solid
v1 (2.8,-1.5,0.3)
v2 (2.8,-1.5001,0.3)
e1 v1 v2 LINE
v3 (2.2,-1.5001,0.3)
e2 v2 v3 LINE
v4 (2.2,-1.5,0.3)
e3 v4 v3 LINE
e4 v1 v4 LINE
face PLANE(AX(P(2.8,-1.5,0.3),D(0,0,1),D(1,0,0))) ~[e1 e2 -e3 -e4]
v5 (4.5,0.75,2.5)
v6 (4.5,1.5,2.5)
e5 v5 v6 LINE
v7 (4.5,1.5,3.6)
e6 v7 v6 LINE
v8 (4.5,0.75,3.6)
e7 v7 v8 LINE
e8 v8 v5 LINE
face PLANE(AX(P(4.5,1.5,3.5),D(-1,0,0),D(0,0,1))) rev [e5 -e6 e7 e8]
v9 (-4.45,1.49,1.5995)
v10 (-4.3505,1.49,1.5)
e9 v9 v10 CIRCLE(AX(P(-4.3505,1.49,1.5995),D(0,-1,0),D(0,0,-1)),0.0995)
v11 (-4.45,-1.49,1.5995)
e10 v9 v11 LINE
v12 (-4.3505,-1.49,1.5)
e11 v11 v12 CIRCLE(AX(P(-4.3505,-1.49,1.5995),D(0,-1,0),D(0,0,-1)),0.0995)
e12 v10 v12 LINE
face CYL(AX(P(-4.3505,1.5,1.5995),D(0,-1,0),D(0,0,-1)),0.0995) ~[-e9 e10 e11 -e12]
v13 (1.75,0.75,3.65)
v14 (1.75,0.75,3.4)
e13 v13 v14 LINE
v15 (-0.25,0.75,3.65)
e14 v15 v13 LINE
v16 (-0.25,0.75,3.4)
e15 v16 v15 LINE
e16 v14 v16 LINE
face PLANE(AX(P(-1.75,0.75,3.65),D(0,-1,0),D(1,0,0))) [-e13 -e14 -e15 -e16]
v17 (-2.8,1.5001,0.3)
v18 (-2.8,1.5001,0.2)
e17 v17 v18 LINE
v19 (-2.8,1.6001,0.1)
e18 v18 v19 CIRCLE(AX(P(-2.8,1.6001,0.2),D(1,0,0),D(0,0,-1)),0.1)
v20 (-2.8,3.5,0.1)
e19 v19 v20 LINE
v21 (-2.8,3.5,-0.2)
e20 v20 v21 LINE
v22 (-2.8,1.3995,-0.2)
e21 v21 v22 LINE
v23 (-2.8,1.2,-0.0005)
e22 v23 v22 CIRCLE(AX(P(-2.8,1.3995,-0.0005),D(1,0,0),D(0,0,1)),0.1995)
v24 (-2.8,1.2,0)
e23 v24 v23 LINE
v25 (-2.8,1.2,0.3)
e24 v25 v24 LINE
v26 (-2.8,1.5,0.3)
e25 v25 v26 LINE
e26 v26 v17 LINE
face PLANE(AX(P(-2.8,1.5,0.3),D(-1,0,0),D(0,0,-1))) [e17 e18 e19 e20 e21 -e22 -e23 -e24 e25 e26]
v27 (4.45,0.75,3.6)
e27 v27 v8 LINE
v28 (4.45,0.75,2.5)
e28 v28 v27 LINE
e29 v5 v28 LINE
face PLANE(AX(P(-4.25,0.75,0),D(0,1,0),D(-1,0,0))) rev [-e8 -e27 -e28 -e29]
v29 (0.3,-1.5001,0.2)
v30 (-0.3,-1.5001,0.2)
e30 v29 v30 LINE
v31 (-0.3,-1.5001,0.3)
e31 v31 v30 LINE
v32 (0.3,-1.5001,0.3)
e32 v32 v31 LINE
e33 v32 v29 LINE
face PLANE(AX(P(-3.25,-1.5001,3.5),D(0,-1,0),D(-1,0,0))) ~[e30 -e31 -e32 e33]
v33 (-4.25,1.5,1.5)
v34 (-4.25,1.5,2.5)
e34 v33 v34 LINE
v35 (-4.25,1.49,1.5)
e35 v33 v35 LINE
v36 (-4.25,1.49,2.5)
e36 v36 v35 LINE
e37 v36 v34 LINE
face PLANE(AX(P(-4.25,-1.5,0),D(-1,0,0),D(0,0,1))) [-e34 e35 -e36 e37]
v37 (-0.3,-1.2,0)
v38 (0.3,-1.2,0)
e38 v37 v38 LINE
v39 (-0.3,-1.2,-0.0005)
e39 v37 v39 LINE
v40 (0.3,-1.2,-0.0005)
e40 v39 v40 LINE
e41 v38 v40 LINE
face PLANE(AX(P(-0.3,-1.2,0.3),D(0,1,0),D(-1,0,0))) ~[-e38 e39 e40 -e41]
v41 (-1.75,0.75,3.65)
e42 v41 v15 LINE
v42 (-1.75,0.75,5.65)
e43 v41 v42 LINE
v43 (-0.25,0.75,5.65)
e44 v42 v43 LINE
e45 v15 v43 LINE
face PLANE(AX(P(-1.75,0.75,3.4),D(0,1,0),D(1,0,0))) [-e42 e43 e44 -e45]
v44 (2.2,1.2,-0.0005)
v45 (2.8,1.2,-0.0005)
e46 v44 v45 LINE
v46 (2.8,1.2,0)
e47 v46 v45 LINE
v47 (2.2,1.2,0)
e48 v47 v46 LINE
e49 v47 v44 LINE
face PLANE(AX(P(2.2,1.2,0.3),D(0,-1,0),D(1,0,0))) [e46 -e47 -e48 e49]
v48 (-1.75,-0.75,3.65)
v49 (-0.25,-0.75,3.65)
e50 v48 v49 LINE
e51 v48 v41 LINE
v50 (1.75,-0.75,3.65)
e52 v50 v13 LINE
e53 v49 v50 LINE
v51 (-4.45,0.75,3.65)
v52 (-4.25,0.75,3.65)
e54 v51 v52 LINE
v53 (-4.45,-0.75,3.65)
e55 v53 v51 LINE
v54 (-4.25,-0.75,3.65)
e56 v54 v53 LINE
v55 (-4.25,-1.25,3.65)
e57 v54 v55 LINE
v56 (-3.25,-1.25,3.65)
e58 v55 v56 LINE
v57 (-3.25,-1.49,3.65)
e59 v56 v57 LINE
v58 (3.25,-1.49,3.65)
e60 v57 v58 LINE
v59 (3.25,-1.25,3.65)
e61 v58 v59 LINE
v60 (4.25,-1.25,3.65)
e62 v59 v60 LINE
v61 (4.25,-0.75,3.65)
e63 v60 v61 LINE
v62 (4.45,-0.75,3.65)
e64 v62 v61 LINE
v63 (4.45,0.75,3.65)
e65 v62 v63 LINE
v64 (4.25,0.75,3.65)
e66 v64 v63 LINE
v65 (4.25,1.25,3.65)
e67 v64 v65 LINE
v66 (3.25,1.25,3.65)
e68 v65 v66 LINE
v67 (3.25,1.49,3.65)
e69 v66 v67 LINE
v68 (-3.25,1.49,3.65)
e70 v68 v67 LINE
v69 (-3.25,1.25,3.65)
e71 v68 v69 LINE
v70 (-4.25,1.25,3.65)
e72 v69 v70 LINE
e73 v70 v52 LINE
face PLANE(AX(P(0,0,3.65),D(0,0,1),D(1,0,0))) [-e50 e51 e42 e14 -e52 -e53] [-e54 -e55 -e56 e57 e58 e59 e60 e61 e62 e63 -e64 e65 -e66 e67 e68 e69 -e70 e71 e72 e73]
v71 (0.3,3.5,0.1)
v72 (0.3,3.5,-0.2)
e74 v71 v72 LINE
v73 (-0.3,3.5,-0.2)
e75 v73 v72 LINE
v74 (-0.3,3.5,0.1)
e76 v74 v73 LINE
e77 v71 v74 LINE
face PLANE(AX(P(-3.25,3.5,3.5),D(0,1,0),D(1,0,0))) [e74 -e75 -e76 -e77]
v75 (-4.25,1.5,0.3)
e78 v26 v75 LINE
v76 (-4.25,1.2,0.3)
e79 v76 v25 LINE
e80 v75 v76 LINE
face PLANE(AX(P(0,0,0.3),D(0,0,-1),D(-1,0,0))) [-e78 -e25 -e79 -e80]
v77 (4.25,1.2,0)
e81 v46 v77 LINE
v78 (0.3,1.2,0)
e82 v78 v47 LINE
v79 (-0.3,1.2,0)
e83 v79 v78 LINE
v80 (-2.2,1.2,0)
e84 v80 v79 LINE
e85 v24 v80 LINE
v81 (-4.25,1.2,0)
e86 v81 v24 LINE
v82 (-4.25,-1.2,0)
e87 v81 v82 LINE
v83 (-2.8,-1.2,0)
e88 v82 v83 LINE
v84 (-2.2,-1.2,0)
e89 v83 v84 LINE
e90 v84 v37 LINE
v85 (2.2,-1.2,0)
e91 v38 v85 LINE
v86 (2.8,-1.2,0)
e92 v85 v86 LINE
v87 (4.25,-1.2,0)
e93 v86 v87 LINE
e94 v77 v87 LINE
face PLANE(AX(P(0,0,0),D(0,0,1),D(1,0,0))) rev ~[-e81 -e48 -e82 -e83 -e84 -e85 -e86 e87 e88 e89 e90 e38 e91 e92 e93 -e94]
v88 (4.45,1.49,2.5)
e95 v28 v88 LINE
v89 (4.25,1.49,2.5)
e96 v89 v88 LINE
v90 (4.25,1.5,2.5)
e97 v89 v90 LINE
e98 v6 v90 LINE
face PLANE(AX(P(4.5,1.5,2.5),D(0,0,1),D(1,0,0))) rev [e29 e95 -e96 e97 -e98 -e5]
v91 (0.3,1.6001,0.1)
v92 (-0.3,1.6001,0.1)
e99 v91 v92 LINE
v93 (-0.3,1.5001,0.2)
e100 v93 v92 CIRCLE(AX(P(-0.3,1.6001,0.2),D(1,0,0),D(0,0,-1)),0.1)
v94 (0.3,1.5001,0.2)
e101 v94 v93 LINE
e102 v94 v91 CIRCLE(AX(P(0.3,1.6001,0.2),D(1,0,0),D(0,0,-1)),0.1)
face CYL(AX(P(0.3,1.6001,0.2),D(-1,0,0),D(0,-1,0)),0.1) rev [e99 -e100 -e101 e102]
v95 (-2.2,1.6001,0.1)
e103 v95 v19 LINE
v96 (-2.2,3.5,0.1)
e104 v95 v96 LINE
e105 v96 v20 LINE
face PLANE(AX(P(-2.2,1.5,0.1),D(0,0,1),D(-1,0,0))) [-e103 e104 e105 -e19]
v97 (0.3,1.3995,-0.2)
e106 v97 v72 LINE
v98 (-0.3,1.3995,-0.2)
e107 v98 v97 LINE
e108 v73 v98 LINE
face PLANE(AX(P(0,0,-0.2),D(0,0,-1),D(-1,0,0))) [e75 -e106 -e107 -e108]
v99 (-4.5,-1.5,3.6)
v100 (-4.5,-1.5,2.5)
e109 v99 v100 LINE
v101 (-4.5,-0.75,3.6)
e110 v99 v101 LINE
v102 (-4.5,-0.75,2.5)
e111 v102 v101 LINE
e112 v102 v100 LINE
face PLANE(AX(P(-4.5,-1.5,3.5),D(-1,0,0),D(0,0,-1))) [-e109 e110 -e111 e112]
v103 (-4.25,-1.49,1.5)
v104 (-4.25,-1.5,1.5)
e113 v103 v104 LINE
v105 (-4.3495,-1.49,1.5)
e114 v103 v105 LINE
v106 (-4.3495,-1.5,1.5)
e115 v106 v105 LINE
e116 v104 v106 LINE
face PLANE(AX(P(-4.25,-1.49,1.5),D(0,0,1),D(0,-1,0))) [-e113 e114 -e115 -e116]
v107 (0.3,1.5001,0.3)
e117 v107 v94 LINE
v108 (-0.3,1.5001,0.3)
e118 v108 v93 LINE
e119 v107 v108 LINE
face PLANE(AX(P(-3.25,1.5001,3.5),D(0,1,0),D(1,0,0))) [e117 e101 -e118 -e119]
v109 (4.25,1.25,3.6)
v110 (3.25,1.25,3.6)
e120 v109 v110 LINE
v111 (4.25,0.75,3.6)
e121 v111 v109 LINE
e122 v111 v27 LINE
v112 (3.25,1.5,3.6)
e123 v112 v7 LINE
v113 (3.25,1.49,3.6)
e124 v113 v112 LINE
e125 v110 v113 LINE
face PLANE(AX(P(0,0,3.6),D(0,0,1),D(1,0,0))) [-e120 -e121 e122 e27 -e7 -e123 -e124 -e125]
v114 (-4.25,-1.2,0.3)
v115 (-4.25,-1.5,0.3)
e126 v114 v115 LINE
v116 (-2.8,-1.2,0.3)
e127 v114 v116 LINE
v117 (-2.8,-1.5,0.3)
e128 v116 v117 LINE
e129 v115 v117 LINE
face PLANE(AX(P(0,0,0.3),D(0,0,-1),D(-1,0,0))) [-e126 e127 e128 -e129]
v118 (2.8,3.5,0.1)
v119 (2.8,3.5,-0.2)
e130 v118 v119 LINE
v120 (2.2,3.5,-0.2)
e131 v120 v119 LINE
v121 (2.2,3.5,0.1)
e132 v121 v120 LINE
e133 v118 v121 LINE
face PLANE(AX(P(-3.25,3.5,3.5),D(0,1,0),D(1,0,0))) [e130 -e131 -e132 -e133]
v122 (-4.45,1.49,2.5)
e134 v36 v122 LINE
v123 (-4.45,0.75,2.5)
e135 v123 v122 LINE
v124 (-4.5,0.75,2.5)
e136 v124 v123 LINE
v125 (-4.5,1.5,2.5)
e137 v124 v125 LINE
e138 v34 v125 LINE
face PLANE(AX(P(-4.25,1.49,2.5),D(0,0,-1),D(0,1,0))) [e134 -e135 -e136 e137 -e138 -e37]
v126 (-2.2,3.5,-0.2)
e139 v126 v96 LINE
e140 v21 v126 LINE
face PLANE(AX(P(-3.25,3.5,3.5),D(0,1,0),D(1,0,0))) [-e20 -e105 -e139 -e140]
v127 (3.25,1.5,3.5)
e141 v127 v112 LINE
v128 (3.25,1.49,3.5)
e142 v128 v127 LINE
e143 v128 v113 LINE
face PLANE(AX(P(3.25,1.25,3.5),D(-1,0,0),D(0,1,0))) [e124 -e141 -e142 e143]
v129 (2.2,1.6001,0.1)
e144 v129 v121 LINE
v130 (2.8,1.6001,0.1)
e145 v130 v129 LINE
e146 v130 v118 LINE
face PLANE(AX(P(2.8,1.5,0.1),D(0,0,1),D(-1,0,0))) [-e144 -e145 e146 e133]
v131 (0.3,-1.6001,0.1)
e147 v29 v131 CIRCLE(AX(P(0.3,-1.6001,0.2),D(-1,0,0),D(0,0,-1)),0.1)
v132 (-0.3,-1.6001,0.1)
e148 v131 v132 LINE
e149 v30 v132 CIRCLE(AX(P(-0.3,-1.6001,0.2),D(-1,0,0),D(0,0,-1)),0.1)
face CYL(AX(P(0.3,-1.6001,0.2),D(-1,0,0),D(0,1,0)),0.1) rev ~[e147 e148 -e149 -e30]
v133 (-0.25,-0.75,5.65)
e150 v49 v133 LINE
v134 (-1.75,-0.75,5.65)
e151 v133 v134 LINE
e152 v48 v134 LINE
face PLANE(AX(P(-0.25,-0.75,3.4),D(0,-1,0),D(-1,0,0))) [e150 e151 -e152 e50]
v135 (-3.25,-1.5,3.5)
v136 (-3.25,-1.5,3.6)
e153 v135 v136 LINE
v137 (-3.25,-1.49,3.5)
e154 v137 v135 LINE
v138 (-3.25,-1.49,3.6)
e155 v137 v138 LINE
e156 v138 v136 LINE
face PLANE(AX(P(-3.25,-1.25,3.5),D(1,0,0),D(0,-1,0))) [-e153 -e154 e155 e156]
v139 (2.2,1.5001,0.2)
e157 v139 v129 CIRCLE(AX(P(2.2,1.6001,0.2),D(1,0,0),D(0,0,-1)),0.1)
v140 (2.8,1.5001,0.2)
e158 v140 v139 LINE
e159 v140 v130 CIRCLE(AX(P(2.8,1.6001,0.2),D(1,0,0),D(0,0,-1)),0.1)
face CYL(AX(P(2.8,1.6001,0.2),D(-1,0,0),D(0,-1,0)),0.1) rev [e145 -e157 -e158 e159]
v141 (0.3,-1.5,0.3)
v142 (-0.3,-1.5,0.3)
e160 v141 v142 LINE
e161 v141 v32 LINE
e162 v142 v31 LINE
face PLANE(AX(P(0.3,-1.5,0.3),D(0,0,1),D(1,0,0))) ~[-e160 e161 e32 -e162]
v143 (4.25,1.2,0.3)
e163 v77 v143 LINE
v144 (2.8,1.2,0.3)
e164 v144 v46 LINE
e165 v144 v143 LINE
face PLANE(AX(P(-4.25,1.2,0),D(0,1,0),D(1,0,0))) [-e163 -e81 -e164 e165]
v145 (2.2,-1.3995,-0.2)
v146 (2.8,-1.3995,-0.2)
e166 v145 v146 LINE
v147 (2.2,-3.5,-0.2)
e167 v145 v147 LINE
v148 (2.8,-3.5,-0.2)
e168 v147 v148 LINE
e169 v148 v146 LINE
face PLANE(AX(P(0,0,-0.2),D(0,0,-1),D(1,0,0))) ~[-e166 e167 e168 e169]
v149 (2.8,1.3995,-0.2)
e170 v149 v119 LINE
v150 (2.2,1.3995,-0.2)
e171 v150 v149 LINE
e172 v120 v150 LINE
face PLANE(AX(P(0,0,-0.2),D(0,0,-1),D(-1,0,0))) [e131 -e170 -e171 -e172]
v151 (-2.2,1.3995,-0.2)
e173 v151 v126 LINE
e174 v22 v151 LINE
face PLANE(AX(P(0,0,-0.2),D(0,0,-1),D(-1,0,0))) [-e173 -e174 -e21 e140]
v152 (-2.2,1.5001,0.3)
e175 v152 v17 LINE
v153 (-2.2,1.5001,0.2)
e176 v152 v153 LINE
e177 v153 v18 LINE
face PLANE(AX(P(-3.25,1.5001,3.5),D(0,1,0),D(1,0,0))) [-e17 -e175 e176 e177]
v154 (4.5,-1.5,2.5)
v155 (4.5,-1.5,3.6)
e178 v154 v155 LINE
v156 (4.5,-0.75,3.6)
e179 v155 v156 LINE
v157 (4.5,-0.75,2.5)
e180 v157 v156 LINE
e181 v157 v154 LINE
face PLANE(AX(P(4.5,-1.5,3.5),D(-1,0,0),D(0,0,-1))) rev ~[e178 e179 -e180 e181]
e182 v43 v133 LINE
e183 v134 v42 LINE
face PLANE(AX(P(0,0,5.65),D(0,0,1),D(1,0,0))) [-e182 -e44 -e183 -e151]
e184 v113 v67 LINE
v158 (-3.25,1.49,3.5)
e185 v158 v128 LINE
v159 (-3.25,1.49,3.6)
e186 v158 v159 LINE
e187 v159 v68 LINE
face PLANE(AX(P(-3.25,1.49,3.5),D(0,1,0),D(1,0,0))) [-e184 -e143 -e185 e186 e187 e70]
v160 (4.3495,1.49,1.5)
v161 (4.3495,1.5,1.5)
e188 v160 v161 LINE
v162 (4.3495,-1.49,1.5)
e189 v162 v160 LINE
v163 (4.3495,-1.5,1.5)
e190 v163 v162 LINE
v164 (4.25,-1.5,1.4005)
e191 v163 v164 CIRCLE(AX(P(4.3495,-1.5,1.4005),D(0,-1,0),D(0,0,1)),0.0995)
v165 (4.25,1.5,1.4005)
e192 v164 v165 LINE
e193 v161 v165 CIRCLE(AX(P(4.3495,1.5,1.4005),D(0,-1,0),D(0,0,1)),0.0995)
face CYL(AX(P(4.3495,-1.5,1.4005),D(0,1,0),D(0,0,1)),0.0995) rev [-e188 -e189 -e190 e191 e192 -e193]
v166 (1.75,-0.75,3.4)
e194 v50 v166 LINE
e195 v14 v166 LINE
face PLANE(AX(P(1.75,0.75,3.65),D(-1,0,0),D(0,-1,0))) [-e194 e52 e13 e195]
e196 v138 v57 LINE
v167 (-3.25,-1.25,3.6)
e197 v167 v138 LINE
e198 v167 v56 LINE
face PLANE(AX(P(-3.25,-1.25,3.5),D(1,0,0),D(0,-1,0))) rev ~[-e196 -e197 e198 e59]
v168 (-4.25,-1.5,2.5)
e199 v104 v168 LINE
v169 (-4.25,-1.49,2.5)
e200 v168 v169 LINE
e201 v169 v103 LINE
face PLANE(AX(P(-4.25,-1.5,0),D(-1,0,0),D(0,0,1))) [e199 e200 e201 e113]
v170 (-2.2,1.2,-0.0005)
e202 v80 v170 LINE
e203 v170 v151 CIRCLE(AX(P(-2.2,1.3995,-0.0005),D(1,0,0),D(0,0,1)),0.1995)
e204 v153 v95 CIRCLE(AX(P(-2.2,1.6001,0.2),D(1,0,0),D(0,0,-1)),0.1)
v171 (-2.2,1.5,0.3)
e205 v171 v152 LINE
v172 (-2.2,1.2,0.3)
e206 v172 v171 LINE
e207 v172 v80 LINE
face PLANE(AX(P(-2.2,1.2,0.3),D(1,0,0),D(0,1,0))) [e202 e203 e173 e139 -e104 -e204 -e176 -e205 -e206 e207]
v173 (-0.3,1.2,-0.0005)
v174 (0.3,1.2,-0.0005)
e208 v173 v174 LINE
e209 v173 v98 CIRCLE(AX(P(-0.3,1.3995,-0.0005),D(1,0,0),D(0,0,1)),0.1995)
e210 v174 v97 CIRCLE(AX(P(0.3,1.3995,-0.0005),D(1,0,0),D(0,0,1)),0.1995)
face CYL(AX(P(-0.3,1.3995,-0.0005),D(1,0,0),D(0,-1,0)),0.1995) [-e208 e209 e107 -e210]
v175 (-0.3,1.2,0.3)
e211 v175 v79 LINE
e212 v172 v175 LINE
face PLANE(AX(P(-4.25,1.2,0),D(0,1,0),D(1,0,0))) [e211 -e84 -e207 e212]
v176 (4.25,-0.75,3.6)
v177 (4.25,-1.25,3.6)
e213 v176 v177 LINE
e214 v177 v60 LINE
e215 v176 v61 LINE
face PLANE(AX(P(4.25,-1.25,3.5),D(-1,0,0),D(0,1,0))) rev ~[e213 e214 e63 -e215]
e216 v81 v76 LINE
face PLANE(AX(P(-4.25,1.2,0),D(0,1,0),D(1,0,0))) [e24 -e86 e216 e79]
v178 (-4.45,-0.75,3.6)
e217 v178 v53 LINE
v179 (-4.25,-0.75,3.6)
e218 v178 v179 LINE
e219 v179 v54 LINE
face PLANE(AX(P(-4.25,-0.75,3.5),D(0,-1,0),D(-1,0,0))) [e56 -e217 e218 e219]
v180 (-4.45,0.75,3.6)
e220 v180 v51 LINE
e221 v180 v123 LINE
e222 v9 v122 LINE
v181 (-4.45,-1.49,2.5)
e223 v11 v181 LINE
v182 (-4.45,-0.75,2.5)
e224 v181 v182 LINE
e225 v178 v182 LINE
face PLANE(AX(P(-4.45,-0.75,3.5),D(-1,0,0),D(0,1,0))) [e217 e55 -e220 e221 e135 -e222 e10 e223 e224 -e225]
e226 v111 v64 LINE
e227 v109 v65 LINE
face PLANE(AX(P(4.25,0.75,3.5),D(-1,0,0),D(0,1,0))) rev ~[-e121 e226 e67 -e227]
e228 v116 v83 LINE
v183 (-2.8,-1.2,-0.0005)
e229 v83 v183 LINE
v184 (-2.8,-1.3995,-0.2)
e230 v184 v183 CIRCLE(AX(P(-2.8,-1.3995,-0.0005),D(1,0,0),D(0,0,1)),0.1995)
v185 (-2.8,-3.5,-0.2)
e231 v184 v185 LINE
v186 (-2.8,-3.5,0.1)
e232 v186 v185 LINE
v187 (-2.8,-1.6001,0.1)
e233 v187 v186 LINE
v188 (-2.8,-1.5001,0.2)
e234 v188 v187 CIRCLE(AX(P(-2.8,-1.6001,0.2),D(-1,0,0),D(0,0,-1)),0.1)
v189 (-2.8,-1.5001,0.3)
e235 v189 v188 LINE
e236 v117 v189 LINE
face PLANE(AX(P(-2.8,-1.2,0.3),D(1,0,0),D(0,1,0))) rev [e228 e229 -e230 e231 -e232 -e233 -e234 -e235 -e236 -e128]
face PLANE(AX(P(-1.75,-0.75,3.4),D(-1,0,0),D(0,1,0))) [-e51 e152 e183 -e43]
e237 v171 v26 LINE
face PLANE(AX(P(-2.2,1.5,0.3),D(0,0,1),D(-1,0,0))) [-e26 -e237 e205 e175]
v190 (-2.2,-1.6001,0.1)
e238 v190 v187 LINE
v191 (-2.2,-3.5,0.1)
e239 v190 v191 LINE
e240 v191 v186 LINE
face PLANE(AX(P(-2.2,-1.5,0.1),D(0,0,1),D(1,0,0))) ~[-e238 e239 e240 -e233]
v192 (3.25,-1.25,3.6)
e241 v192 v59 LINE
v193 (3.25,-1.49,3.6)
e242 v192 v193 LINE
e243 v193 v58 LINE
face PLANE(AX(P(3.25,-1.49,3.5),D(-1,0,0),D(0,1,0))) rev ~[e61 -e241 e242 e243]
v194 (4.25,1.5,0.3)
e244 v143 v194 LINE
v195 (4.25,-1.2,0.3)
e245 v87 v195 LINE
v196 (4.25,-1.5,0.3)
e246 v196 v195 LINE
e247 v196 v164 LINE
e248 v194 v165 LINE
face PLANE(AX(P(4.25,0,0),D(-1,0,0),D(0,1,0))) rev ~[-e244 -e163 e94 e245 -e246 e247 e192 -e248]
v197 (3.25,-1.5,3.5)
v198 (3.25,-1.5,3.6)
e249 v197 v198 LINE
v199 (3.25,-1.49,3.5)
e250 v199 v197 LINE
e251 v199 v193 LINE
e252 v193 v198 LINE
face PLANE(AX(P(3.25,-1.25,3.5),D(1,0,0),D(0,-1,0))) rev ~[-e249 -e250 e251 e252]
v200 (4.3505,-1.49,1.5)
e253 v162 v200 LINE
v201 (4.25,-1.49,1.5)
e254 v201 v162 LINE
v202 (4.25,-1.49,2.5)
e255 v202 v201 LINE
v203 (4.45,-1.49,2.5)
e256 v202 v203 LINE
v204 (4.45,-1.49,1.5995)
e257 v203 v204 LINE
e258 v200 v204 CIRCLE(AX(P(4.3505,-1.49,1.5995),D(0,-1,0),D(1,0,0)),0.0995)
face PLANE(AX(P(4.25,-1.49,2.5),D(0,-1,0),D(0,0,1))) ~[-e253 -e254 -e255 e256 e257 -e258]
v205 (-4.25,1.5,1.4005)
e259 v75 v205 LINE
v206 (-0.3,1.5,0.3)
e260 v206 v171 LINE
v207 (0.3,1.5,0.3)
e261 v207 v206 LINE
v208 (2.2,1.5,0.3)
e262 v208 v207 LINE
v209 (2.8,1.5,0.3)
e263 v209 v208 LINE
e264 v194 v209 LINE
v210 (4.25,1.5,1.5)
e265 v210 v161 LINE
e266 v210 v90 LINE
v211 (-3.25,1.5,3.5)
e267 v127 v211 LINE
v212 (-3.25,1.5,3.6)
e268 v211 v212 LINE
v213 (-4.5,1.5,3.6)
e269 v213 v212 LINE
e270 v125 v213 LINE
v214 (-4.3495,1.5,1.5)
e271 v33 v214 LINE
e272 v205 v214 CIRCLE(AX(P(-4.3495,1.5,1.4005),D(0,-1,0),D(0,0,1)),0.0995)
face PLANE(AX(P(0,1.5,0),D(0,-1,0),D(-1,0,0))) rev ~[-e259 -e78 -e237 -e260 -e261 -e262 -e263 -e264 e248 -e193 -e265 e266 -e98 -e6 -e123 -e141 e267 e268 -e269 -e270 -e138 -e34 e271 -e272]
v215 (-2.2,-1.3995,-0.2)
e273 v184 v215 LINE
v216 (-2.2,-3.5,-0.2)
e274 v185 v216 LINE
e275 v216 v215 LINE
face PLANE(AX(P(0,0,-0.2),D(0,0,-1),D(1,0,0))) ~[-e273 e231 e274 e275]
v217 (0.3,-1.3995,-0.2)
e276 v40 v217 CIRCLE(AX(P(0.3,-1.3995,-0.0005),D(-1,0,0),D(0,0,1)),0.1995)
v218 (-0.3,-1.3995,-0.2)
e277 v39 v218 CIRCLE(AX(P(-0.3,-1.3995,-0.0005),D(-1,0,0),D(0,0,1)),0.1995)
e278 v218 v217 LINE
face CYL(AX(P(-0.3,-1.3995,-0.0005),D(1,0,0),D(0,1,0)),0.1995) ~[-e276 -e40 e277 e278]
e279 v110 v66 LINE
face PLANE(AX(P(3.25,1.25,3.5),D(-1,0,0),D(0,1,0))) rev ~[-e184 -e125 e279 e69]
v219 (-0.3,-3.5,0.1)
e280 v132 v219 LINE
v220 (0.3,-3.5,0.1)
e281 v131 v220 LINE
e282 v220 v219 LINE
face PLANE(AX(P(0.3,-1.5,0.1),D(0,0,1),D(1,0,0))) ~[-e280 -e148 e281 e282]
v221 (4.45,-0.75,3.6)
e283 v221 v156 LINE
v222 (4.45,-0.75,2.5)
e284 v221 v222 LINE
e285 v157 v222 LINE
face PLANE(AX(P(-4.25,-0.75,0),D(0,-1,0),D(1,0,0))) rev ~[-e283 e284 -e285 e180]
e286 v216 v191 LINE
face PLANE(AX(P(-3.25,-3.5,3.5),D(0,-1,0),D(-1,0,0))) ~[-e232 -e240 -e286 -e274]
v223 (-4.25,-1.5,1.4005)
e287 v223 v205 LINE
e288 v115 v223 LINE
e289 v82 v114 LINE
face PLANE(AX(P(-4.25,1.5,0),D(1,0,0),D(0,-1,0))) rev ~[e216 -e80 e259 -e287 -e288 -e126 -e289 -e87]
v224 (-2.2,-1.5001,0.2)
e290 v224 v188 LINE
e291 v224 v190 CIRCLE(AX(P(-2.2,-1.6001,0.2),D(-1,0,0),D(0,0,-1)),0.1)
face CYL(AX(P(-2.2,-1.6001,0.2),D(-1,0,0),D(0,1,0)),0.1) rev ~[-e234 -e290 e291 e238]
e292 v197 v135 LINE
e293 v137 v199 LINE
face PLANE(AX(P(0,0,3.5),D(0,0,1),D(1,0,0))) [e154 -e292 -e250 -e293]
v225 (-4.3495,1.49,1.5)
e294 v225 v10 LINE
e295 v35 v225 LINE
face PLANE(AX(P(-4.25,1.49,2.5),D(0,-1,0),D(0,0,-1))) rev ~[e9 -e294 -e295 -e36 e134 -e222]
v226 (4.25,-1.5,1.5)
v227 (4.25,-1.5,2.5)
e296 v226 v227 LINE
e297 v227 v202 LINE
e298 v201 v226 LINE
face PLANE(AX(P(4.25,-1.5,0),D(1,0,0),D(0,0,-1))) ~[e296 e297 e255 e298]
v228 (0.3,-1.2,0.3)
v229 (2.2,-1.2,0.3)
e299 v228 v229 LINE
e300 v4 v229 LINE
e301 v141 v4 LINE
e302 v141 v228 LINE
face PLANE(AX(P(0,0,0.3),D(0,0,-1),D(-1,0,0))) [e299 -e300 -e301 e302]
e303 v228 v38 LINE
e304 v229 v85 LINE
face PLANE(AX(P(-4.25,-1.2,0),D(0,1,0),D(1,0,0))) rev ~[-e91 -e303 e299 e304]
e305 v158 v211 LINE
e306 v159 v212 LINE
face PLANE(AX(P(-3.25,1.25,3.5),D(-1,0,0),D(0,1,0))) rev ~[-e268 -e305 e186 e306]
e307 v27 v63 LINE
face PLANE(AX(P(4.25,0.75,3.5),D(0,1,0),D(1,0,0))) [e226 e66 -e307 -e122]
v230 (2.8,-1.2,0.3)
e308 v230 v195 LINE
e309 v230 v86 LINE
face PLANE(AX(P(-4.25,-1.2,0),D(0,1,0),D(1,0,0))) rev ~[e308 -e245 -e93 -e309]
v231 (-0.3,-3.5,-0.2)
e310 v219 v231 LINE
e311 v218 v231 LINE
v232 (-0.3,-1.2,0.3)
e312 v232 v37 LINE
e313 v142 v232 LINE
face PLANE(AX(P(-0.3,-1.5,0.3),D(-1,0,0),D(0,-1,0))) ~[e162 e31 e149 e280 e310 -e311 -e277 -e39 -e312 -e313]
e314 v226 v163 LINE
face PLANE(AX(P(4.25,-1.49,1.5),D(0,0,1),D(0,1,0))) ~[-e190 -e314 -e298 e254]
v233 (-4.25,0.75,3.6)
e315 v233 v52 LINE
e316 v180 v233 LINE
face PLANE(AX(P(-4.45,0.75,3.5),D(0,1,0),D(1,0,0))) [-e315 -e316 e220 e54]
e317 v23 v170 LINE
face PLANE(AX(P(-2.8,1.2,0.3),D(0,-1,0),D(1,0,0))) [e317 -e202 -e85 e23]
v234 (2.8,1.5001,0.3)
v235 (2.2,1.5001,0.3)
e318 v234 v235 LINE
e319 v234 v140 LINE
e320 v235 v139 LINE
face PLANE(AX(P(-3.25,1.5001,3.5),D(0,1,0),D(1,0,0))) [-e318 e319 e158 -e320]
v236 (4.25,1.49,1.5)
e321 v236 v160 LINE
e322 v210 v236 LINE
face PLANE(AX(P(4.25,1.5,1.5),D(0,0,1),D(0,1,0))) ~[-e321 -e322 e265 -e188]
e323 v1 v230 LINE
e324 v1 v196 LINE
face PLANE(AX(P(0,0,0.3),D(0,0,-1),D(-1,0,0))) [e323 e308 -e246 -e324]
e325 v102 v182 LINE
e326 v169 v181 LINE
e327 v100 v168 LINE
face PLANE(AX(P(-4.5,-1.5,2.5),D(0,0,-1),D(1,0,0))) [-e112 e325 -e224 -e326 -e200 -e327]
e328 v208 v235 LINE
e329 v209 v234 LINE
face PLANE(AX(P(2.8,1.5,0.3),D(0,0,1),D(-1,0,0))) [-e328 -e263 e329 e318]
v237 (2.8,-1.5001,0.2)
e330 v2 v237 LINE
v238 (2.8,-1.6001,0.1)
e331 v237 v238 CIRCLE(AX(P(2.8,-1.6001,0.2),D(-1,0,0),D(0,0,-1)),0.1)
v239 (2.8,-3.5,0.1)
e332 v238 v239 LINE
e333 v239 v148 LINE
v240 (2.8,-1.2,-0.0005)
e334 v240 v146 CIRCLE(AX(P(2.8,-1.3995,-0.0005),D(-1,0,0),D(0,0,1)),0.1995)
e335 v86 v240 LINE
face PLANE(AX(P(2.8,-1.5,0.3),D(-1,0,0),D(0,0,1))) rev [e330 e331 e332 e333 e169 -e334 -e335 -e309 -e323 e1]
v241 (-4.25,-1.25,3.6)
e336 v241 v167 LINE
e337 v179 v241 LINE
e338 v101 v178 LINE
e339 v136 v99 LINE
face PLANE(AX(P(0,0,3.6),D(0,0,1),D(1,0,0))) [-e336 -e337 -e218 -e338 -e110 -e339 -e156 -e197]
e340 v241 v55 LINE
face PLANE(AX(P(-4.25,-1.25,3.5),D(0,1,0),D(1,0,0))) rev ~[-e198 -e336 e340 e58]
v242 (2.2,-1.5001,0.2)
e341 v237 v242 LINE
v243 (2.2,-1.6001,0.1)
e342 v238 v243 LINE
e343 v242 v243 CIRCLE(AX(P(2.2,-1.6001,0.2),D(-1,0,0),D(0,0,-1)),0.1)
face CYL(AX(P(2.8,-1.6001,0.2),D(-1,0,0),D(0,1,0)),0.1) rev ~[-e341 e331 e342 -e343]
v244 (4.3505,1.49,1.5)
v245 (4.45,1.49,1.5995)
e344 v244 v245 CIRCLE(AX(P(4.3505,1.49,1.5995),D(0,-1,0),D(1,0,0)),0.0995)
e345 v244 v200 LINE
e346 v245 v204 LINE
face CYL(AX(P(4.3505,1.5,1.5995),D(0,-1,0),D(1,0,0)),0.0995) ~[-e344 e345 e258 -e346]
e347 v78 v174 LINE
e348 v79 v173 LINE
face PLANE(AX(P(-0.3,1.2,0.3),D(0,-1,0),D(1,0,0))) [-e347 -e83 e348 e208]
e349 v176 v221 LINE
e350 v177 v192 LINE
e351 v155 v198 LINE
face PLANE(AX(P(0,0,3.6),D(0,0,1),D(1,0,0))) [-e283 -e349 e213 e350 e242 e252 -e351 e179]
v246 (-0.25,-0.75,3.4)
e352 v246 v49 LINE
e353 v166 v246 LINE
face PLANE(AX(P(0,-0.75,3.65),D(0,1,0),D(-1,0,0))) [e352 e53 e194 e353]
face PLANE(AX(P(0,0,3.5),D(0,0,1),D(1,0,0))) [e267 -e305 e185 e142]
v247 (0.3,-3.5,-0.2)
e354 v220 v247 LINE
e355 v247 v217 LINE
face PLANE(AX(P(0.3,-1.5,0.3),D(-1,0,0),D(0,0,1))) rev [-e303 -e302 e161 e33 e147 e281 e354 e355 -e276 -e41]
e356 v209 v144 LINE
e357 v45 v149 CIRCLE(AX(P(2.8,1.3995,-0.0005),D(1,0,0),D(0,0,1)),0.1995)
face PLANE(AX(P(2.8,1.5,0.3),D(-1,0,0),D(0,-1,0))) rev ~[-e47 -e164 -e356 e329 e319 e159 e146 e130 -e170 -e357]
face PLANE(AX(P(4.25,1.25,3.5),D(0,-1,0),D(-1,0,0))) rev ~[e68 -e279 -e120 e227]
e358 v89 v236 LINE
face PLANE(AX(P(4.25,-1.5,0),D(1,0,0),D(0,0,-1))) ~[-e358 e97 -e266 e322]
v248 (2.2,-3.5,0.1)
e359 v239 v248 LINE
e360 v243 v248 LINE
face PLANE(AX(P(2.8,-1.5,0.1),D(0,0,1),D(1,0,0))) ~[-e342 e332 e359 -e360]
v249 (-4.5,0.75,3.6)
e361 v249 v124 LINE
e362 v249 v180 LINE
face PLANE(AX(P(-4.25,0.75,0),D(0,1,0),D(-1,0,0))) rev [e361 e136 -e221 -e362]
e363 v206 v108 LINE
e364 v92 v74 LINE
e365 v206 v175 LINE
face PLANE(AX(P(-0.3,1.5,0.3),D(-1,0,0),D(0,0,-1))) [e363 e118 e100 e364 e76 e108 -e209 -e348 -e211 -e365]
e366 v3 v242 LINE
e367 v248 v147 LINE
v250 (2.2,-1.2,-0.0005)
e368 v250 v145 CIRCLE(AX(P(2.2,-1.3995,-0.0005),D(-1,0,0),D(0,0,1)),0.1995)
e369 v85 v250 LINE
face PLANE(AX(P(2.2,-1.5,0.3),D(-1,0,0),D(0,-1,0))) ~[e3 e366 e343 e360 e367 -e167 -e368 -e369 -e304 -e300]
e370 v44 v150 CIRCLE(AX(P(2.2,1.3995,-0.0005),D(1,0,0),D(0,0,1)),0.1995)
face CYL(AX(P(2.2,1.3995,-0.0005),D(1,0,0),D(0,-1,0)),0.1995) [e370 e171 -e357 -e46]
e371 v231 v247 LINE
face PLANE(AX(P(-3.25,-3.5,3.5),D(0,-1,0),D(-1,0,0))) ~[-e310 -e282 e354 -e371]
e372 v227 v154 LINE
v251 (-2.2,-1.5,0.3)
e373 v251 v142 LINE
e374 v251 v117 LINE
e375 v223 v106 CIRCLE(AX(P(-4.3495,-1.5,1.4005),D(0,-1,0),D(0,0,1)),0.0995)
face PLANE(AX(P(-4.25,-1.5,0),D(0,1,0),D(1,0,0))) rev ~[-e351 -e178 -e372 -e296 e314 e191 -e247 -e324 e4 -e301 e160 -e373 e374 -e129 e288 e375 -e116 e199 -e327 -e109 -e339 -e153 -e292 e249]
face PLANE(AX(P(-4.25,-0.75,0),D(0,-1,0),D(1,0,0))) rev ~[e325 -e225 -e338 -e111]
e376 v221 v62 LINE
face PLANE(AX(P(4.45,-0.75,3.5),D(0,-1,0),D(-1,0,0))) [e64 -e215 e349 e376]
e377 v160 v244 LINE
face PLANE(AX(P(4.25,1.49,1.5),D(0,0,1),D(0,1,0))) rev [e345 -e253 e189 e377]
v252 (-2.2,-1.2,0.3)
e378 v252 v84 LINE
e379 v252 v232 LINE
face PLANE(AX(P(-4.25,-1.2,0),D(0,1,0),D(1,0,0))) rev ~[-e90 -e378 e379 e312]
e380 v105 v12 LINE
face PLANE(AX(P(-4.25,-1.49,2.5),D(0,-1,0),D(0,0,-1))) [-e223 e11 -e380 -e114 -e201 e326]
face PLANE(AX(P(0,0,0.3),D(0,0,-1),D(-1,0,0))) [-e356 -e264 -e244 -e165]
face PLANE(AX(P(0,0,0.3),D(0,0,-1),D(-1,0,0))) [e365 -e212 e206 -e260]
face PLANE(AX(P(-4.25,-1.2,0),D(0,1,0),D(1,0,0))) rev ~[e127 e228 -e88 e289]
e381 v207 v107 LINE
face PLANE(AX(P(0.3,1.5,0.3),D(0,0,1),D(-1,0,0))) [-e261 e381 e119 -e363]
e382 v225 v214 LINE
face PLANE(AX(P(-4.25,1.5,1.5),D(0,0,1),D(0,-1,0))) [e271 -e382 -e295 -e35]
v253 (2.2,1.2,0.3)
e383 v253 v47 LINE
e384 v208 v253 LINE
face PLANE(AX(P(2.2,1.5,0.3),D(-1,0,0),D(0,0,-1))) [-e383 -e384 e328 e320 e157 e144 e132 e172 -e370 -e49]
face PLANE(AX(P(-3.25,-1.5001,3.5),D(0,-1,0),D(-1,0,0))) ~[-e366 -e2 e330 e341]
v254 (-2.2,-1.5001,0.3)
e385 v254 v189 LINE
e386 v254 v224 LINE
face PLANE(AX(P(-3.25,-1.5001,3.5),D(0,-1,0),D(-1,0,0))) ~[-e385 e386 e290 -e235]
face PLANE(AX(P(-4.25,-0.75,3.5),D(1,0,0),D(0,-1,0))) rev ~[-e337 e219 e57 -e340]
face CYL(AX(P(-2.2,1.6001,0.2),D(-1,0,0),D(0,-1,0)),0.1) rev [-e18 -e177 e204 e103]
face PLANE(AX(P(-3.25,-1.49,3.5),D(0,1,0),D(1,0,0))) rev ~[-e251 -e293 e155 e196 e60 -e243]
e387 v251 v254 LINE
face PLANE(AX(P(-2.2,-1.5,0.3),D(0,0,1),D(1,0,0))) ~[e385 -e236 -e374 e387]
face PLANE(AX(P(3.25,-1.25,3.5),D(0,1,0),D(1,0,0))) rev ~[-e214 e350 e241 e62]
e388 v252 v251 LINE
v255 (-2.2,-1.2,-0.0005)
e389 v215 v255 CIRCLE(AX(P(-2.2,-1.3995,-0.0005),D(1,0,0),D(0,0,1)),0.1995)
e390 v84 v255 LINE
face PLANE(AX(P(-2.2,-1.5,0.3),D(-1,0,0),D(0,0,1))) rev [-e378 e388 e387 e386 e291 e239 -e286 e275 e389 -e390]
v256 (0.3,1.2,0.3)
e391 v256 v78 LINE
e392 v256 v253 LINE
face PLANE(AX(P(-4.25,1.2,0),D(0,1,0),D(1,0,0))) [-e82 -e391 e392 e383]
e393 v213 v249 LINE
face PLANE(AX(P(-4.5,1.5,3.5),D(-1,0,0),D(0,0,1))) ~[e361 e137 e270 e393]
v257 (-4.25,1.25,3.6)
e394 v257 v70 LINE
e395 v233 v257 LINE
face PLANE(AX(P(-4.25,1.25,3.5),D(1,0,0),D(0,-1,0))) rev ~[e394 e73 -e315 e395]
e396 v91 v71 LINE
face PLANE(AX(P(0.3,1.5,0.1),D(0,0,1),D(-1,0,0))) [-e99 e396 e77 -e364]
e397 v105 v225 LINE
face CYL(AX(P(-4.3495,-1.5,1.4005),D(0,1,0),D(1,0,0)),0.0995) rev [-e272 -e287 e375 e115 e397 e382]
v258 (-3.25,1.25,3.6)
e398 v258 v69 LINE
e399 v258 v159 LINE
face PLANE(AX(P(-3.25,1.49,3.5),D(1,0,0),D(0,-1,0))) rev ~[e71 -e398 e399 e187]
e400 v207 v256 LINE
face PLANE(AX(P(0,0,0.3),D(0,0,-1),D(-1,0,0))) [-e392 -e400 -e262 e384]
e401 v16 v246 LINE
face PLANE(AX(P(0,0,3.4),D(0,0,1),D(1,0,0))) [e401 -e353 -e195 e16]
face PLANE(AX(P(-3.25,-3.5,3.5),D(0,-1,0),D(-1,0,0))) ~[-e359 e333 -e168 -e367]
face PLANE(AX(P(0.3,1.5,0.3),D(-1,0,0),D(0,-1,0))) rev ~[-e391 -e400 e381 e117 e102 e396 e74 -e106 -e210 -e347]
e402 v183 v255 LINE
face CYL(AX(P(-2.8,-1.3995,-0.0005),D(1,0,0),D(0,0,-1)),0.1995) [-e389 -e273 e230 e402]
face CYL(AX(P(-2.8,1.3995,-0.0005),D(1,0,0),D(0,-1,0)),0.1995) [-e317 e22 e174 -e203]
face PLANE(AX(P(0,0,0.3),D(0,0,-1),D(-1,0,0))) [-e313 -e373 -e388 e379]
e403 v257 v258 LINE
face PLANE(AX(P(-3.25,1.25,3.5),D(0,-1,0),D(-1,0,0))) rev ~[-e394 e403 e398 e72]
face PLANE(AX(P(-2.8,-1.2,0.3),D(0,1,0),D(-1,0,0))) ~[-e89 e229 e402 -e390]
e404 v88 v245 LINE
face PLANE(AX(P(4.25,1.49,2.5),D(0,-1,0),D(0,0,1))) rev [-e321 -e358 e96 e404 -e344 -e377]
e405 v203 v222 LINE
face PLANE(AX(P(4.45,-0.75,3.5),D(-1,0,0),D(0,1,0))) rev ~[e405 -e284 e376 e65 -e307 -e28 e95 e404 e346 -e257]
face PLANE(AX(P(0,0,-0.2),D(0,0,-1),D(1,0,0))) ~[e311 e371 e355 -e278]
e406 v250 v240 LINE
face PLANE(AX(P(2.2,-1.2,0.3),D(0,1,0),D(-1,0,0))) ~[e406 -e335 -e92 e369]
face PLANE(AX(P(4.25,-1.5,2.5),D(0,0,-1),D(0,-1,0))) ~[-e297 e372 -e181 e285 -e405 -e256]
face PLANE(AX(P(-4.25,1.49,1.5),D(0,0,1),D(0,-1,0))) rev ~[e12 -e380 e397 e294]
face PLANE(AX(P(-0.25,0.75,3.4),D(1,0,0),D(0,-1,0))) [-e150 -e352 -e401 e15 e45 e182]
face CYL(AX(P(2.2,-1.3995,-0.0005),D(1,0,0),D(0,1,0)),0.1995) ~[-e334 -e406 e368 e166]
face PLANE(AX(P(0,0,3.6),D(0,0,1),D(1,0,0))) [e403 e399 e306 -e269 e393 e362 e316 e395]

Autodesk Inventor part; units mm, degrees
ref_plane "YZ Plane" through (0, 0, 0) normal (1, 0, 0) x (0, 1, 0)
ref_plane "XZ Plane" through (0, 0, 0) normal (0, 1, 0) x (-1, 0, 0)
ref_plane "XY Plane" through (0, 0, 0) normal (0, 0, 1) x (1, 0, 0)
sketch "Boceto1" plane through (0, 0, 0) normal (0, 0, 1) x (1, 0, 0)
  line L0 (-5.95, 0) -> (5.95, 0) projected
  line L1 (0, -2.1) -> (0, 2.1) projected
  line L2 (4.25, 1.5) -> (-4.25, 1.5)
  line L3 (-4.25, 1.5) -> (-4.25, -1.5)
  line L4 (-4.25, -1.5) -> (4.25, -1.5)
  line L5 (4.25, -1.5) -> (4.25, 1.5)
  point P0 (0, 0)
  dimension "d0" = 8.5
  dimension "d1" = 3
extrude "Extrusión1" add sketch "Boceto1" along normal blind 3.5
sketch "Boceto2" plane through (-4.25, -1.5, 0) normal (0, -1, 0) x (1, 0, 0)
  line L0 (0, 0) -> (8.5, 0) projected
  line L1 (8.5, 0) -> (8.5, 3.5) projected
  line L2 (0, 3.5) -> (8.5, 3.5) projected
  line L3 (0, 0) -> (0, 3.5) projected
  line L4 (0, 3.5) -> (-0.25, 3.5)
  line L5 (-0.25, 3.5) -> (-0.25, 2.5)
  line L6 (-0.25, 2.5) -> (0, 2.5)
  line L7 (8.5, 3.5) -> (8.75, 3.5)
  line L8 (8.75, 3.5) -> (8.75, 2.5)
  line L9 (8.75, 2.5) -> (8.5, 2.5)
  line L10 (1.5, 3.5) -> (1.5, 3.3)
  line L11 (1.5, 3.3) -> (7, 3.3)
  line L12 (7, 3.3) -> (7, 3.5)
  point P0 (4.25, 0)
  dimension "d4" = 0.25
  dimension "d5" = 1
  dimension "d6" = 0.25
  dimension "d7" = 0.2
  dimension "d8" = 1.5
  dimension "d9" = 1.5
extrude "Extrusión2" add sketch "Boceto2" against normal blind 0.75 contours L6 L5 L4 L3 | L1 L7 L8 L9
mirror "Simetría1" about plane through (0, 0, 0) normal (0, 1, 0) of "Extrusión2"
sketch "Boceto3" plane through (0, 0, 3.5) normal (0, 0, 1) x (1, 0, 0)
  line L0 (4.5, 1.5) -> (-4.5, 1.5) projected
  line L1 (-4.5, 1.5) -> (-4.5, 0.75) projected
  line L2 (-4.5, 0.75) -> (-4.25, 0.75) projected
  line L3 (-4.25, 0.75) -> (-4.25, -0.75) projected
  line L4 (-4.5, -0.75) -> (-4.25, -0.75) projected
  line L5 (-4.5, -1.5) -> (-4.5, -0.75) projected
  line L6 (4.5, -1.5) -> (-4.5, -1.5) projected
  line L7 (4.5, -1.5) -> (4.5, -0.75) projected
  line L8 (4.25, -0.75) -> (4.5, -0.75) projected
  line L9 (4.25, -0.75) -> (4.25, 0.75) projected
  line L10 (4.25, 0.75) -> (4.5, 0.75) projected
  line L11 (4.5, 1.5) -> (4.5, 0.75) projected
  line L12 (-4.25, 0.75) -> (-4.25, 1.25)
  line L13 (-4.25, 1.25) -> (-3.25, 1.25)
  line L14 (-3.25, 1.25) -> (-3.25, 1.5)
  line L15 (4.25, 1.5) -> (-4.25, 1.5) projected
  line L16 (-4.25, -0.75) -> (-4.25, -1.25)
  line L17 (-4.25, -1.25) -> (-3.25, -1.25)
  line L18 (-3.25, -1.25) -> (-3.25, -1.5)
  line L19 (0, -2.1) -> (0, 2.1) projected
  line L20 (4.25, 0.75) -> (4.25, 1.25)
  line L21 (4.25, 1.25) -> (3.25, 1.25)
  line L22 (3.25, 1.25) -> (3.25, 1.5)
  line L23 (4.25, -0.75) -> (4.25, -1.25)
  line L24 (4.25, -1.25) -> (3.25, -1.25)
  line L25 (3.25, -1.25) -> (3.25, -1.5)
  point P0 (0, 0)
  dimension "d12" = 0.25
  dimension "d13" = 1
  dimension "d14" = 0.5
  dimension "d15" = 0.5
  dimension "d17" = 1
  dimension "d18" = 0.25
  dimension "d19" = 0.5
  dimension "d20" = 1
  dimension "d21" = 0.25
  dimension "d22" = 0.5
  dimension "d23" = 1
  dimension "d24" = 0.25
extrude "Extrusión3" add sketch "Boceto3" along normal blind 0.1 contours L11 L10 L20 L21 L22 L0 | L8 L7 L6 L25 L24 L23 | L14 L13 L12 L2 L1 L0 | L6 L5 L4 L16 L17 L18
sketch "Boceto4" plane through (-4.25, -1.5, 0) normal (-1, 0, 0) x (0, 0, 1)
  line L0 (3.5, 2.25) -> (2.5, 2.25) projected
  line L1 (2.5, 2.25) -> (2.5, 3) projected
  line L2 (0, 3) -> (2.5, 3) projected
  line L3 (0, 3) -> (0, 0) projected
  line L4 (0, 0) -> (2.5, 0) projected
  line L5 (2.5, 0) -> (2.5, 0.75) projected
  line L6 (2.5, 0.75) -> (3.5, 0.75) projected
  line L7 (3.5, 2.25) -> (3.5, 0.75) projected
  line L8 (1.5, 3) -> (1.5, 0)
  line L9 (2.5, 3) -> (2.5, 2.25) projected
  line L10 (2.5, 2.99) -> (1.5, 2.99)
  line L11 (2.5, 0.01) -> (1.5, 0.01)
  point P0 (0, 1.5)
  dimension "d27" = 1
  dimension "d40" = 0.01
  dimension "d41" = 0.01
extrude "Extrusión4" add sketch "Boceto4" along normal blind 0.2 contours L7 L6 L5 L11 L8 L10 L1 L0 | L10 L8 L2 L1 | L5 L4 L8 L11
mirror "Simetría2" about plane through (0, 0, 0) normal (1, 0, 0) of "Extrusión4"
sketch "Boceto6" plane through (0, 0, 3.5) normal (0, 0, 1) x (1, 0, 0)
  line L0 (-3.25, -1.25) -> (-3.25, -1.5) projected
  line L1 (3.25, -1.5) -> (-3.25, -1.5) projected
  line L2 (3.25, -1.5) -> (3.25, -1.25) projected
  line L3 (3.25, -1.25) -> (4.25, -1.25) projected
  line L4 (4.25, -1.25) -> (4.25, -0.75) projected
  line L5 (4.45, -0.75) -> (4.25, -0.75) projected
  line L6 (4.45, -0.75) -> (4.45, 0.75) projected
  line L7 (4.25, 0.75) -> (4.45, 0.75) projected
  line L8 (4.25, 0.75) -> (4.25, 1.25) projected
  line L9 (4.25, 1.25) -> (3.25, 1.25) projected
  line L10 (3.25, 1.25) -> (3.25, 1.5) projected
  line L11 (3.25, 1.5) -> (-3.25, 1.5) projected
  line L12 (-3.25, 1.5) -> (-3.25, 1.25) projected
  line L13 (-3.25, 1.25) -> (-4.25, 1.25) projected
  line L14 (-4.25, 1.25) -> (-4.25, 0.75) projected
  line L15 (-4.45, 0.75) -> (-4.25, 0.75) projected
  line L16 (-4.45, -0.75) -> (-4.45, 0.75) projected
  line L17 (-4.25, -0.75) -> (-4.45, -0.75) projected
  line L18 (-4.25, -0.75) -> (-4.25, -1.25) projected
  line L19 (-4.25, -1.25) -> (-3.25, -1.25) projected
  line L20 (-3.25, 1.49) -> (3.25, 1.49)
  line L21 (-3.25, -1.49) -> (3.25, -1.49)
  point P0 (0, 0)
  dimension "d30" = 0.01
  dimension "d31" = 0.01
extrude "Extrusión5" add sketch "Boceto6" along normal blind 0.15 contours L19 L18 L17 L16 L15 L14 L13 L12 L20 L10 L9 L8 L7 L6 L5 L4 L3 L2 L21 L0
fillet "Empalme1" radius 0.1 2 edges at (4.45, 0, 1.5) (4.25, 0, 1.5)
fillet "Empalme2" radius 0.1 2 edges at (-4.45, 0, 1.5) (-4.25, 0, 1.5)
sketch "Boceto7" plane through (0, 0, 3.65) normal (0, 0, 1) x (1, 0, 0)
  line L0 (-6.3, 0) -> (6.3, 0) projected
  line L1 (0, -2.1) -> (0, 2.1) projected
  line L2 (-1.75, 0.75) -> (1.75, 0.75)
  line L3 (1.75, 0.75) -> (1.75, -0.75)
  line L4 (1.75, -0.75) -> (-1.75, -0.75)
  line L5 (-1.75, -0.75) -> (-1.75, 0.75)
  point P0 (0, 0)
  dimension "d36" = 3.5
  dimension "d37" = 1.5
extrude "Extrusión6" cut sketch "Boceto7" against normal blind 0.25
extrude "Extrusión7" cut sketch "Boceto4" along normal blind 0.25 contours L10 L8 L2 L1 | L5 L4 L8 L11
mirror "Simetría3" about plane through (0, 0, 0) normal (1, 0, 0) of "Extrusión7"
sketch "Boceto8" plane through (0, 0, 3.4) normal (0, 0, 1) x (1, 0, 0)
  line L0 (-1.75, 0.75) -> (1.75, 0.75) projected
  line L1 (-1.75, -0.75) -> (-1.75, 0.75) projected
  line L2 (1.75, -0.75) -> (-1.75, -0.75) projected
  line L3 (1.75, 0.75) -> (1.75, -0.75) projected
  line L4 (-0.25, 0.75) -> (-0.25, -0.75)
  point P0 (0, 0)
  dimension "d44" = 1.5
extrude "Extrusión8" add sketch "Boceto8" along normal blind 2.25 contours L0 L4 L2 L1
sketch "Boceto9" plane through (0, 0, 0) normal (0, 0, -1) x (-1, 0, 0)
  line L0 (-4.25, 1.5) -> (4.25, 1.5) projected
  line L1 (-4.25, -1.5) -> (-4.25, 1.5) projected
  line L2 (4.25, -1.5) -> (-4.25, -1.5) projected
  line L3 (4.25, 1.5) -> (4.25, -1.5) projected
  line L4 (4.25, -1.2) -> (-4.25, -1.2)
  line L5 (4.25, 1.2) -> (-4.25, 1.2)
  point P0 (0, 0)
  dimension "d47" = 0.3
  dimension "d48" = 0.3
extrude "Extrusión9" cut sketch "Boceto9" against normal blind 0.3 contours L0 L3 L5 L1 | L4 L3 L2 L1
sketch "Boceto10" plane through (0, 0, 0.3) normal (0, 0, -1) x (-1, 0, 0)
  line L0 (4.25, 1.2) -> (-4.25, 1.2) projected
  line L1 (4.25, 1.2) -> (-4.25, 1.2) projected
  line L2 (-4.25, -1.2) -> (-4.25, 1.2) projected
  line L3 (-4.25, -1.2) -> (4.25, -1.2) projected
  line L4 (4.25, 1.2) -> (4.25, -1.2) projected
  line L5 (6.3, 0) -> (-6.3, 0) projected
  line L6 (0, -2.1) -> (0, 2.1) projected
  line L7 (-3.25, 1.5) -> (3.25, 1.5) projected
  line L8 (0.3, 1.5) -> (-0.3, 1.5)
  line L9 (-0.3, 1.5) -> (-0.3, 1.2)
  line L10 (0.3, 1.5) -> (0.3, 1.2)
  line L11 (2.2, 1.2) -> (2.2, 1.5)
  line L12 (2.8, 1.2) -> (2.8, 1.5)
  line L13 (2.8, 1.5) -> (2.2, 1.5)
  line L14 (-2.2, 1.5) -> (-2.2, 1.2)
  line L15 (-2.2, 1.5) -> (-2.8, 1.5)
  line L16 (-2.8, 1.5) -> (-2.8, 1.2)
  point P0 (0, 0)
  dimension "d51" = 0.6
  dimension "d52" = 0.6
  dimension "d54" = 1.9
  dimension "d55" = 0.6
  dimension "d56" = 1.9
extrude "Extrusión10" add sketch "Boceto10" along normal blind 0.5 contours L0 L11 L7 L12 | L0 L6 L7 L10 | L0 L9 L7 L6 | L16 L7 L14 L0
sketch "Boceto11" plane through (-3.25, 1.5, 3.5) normal (0, 1, 0) x (1, 0, 0)
  line L0 (7.5, 3.2) -> (6.05, 3.2) projected
  line L1 (6.05, 3.2) -> (6.05, 3.7) projected
  line L2 (5.45, 3.7) -> (6.05, 3.7) projected
  line L3 (5.45, 3.2) -> (5.45, 3.7) projected
  line L4 (5.45, 3.2) -> (3.55, 3.2) projected
  line L5 (3.55, 3.2) -> (3.55, 3.7) projected
  line L6 (2.95, 3.7) -> (3.55, 3.7) projected
  line L7 (2.95, 3.2) -> (2.95, 3.7) projected
  line L8 (1.05, 3.2) -> (1.05, 3.7) projected
  line L9 (0.45, 3.7) -> (1.05, 3.7) projected
  line L10 (0.45, 3.2) -> (0.45, 3.7) projected
  line L11 (0.45, 3.2) -> (-1, 3.2) projected
  line L12 (-1, 3.2) -> (-1, 2.1) projected
  arc A0 (-1.1, 2) -> (-1, 2.1) centre (-1.1, 2.1) ccw projected
  line L13 (-1.1, 2) -> (-1, 2) projected
  line L14 (-1, 2) -> (-1, 1) projected
  line L15 (-1.25, 1) -> (-1, 1) projected
  line L16 (-1.25, 1) -> (-1.25, -0.1) projected
  line L17 (0, -0.1) -> (-1.25, -0.1) projected
  line L18 (0, 0) -> (0, -0.1) projected
  line L19 (6.5, 0) -> (0, 0) projected
  line L20 (6.5, 0) -> (6.5, -0.1) projected
  line L21 (7.75, -0.1) -> (6.5, -0.1) projected
  line L22 (7.75, 1) -> (7.75, -0.1) projected
  line L23 (7.5, 1) -> (7.75, 1) projected
  line L24 (7.5, 1) -> (7.5, 2) projected
  line L25 (7.5, 2) -> (7.6, 2) projected
  arc A1 (7.5, 2.1) -> (7.6, 2) centre (7.6, 2.1) ccw projected
  line L26 (7.5, 3.2) -> (7.5, 2.1) projected
  line L27 (3.55, 3.2) -> (2.95, 3.2)
  line L28 (6.05, 3.2) -> (5.45, 3.2)
  line L29 (6.05, 3.4) -> (5.45, 3.4)
  line L30 (3.55, 3.4) -> (2.95, 3.4)
  line L31 (0.45, 3.5) -> (0.45, 3.7) projected
  line L32 (1.05, 3.5) -> (1.05, 3.7) projected
  line L33 (1.05, 3.2) -> (0.45, 3.2)
  line L34 (1.05, 3.4) -> (0.45, 3.4)
  point P0 (3.25, 3.5)
  dimension "d59" = 0.3
  dimension "d60" = 0.3
  dimension "d65" = 0.3
extrude "Extrusión11" add sketch "Boceto11" along normal blind 2 contours L29 L3 L2 L1 | L30 L7 L6 L5 | L10 L9 L8 L34
extrude "Extrusión12" add sketch "Boceto11" along normal blind 0.0001 contours L27 L7 L30 L5 | L28 L3 L29 L1 | L10 L34 L8 L33
mirror "Simetría4" about plane through (0, 0, 0) normal (0, 1, 0) of "Extrusión10", "Extrusión11", "Extrusión12"
fillet "Empalme3" radius 0.1 6 edges at (2.5, -1.5001, 0.1) (0, -1.5001, 0.1) (-2.5, -1.5001, 0.1) (2.5, 1.5001, 0.1) (0, 1.5001, 0.1) (-2.5, 1.5001, 0.1)
fillet "Empalme4" radius 0.2 6 edges at (2.5, 1.2, -0.2) (2.5, -1.2, -0.2) (0, -1.2, -0.2) (-2.5, -1.2, -0.2) (0, 1.2, -0.2) (-2.5, 1.2, -0.2)
properties part number "PZ_Switch_SMD"
